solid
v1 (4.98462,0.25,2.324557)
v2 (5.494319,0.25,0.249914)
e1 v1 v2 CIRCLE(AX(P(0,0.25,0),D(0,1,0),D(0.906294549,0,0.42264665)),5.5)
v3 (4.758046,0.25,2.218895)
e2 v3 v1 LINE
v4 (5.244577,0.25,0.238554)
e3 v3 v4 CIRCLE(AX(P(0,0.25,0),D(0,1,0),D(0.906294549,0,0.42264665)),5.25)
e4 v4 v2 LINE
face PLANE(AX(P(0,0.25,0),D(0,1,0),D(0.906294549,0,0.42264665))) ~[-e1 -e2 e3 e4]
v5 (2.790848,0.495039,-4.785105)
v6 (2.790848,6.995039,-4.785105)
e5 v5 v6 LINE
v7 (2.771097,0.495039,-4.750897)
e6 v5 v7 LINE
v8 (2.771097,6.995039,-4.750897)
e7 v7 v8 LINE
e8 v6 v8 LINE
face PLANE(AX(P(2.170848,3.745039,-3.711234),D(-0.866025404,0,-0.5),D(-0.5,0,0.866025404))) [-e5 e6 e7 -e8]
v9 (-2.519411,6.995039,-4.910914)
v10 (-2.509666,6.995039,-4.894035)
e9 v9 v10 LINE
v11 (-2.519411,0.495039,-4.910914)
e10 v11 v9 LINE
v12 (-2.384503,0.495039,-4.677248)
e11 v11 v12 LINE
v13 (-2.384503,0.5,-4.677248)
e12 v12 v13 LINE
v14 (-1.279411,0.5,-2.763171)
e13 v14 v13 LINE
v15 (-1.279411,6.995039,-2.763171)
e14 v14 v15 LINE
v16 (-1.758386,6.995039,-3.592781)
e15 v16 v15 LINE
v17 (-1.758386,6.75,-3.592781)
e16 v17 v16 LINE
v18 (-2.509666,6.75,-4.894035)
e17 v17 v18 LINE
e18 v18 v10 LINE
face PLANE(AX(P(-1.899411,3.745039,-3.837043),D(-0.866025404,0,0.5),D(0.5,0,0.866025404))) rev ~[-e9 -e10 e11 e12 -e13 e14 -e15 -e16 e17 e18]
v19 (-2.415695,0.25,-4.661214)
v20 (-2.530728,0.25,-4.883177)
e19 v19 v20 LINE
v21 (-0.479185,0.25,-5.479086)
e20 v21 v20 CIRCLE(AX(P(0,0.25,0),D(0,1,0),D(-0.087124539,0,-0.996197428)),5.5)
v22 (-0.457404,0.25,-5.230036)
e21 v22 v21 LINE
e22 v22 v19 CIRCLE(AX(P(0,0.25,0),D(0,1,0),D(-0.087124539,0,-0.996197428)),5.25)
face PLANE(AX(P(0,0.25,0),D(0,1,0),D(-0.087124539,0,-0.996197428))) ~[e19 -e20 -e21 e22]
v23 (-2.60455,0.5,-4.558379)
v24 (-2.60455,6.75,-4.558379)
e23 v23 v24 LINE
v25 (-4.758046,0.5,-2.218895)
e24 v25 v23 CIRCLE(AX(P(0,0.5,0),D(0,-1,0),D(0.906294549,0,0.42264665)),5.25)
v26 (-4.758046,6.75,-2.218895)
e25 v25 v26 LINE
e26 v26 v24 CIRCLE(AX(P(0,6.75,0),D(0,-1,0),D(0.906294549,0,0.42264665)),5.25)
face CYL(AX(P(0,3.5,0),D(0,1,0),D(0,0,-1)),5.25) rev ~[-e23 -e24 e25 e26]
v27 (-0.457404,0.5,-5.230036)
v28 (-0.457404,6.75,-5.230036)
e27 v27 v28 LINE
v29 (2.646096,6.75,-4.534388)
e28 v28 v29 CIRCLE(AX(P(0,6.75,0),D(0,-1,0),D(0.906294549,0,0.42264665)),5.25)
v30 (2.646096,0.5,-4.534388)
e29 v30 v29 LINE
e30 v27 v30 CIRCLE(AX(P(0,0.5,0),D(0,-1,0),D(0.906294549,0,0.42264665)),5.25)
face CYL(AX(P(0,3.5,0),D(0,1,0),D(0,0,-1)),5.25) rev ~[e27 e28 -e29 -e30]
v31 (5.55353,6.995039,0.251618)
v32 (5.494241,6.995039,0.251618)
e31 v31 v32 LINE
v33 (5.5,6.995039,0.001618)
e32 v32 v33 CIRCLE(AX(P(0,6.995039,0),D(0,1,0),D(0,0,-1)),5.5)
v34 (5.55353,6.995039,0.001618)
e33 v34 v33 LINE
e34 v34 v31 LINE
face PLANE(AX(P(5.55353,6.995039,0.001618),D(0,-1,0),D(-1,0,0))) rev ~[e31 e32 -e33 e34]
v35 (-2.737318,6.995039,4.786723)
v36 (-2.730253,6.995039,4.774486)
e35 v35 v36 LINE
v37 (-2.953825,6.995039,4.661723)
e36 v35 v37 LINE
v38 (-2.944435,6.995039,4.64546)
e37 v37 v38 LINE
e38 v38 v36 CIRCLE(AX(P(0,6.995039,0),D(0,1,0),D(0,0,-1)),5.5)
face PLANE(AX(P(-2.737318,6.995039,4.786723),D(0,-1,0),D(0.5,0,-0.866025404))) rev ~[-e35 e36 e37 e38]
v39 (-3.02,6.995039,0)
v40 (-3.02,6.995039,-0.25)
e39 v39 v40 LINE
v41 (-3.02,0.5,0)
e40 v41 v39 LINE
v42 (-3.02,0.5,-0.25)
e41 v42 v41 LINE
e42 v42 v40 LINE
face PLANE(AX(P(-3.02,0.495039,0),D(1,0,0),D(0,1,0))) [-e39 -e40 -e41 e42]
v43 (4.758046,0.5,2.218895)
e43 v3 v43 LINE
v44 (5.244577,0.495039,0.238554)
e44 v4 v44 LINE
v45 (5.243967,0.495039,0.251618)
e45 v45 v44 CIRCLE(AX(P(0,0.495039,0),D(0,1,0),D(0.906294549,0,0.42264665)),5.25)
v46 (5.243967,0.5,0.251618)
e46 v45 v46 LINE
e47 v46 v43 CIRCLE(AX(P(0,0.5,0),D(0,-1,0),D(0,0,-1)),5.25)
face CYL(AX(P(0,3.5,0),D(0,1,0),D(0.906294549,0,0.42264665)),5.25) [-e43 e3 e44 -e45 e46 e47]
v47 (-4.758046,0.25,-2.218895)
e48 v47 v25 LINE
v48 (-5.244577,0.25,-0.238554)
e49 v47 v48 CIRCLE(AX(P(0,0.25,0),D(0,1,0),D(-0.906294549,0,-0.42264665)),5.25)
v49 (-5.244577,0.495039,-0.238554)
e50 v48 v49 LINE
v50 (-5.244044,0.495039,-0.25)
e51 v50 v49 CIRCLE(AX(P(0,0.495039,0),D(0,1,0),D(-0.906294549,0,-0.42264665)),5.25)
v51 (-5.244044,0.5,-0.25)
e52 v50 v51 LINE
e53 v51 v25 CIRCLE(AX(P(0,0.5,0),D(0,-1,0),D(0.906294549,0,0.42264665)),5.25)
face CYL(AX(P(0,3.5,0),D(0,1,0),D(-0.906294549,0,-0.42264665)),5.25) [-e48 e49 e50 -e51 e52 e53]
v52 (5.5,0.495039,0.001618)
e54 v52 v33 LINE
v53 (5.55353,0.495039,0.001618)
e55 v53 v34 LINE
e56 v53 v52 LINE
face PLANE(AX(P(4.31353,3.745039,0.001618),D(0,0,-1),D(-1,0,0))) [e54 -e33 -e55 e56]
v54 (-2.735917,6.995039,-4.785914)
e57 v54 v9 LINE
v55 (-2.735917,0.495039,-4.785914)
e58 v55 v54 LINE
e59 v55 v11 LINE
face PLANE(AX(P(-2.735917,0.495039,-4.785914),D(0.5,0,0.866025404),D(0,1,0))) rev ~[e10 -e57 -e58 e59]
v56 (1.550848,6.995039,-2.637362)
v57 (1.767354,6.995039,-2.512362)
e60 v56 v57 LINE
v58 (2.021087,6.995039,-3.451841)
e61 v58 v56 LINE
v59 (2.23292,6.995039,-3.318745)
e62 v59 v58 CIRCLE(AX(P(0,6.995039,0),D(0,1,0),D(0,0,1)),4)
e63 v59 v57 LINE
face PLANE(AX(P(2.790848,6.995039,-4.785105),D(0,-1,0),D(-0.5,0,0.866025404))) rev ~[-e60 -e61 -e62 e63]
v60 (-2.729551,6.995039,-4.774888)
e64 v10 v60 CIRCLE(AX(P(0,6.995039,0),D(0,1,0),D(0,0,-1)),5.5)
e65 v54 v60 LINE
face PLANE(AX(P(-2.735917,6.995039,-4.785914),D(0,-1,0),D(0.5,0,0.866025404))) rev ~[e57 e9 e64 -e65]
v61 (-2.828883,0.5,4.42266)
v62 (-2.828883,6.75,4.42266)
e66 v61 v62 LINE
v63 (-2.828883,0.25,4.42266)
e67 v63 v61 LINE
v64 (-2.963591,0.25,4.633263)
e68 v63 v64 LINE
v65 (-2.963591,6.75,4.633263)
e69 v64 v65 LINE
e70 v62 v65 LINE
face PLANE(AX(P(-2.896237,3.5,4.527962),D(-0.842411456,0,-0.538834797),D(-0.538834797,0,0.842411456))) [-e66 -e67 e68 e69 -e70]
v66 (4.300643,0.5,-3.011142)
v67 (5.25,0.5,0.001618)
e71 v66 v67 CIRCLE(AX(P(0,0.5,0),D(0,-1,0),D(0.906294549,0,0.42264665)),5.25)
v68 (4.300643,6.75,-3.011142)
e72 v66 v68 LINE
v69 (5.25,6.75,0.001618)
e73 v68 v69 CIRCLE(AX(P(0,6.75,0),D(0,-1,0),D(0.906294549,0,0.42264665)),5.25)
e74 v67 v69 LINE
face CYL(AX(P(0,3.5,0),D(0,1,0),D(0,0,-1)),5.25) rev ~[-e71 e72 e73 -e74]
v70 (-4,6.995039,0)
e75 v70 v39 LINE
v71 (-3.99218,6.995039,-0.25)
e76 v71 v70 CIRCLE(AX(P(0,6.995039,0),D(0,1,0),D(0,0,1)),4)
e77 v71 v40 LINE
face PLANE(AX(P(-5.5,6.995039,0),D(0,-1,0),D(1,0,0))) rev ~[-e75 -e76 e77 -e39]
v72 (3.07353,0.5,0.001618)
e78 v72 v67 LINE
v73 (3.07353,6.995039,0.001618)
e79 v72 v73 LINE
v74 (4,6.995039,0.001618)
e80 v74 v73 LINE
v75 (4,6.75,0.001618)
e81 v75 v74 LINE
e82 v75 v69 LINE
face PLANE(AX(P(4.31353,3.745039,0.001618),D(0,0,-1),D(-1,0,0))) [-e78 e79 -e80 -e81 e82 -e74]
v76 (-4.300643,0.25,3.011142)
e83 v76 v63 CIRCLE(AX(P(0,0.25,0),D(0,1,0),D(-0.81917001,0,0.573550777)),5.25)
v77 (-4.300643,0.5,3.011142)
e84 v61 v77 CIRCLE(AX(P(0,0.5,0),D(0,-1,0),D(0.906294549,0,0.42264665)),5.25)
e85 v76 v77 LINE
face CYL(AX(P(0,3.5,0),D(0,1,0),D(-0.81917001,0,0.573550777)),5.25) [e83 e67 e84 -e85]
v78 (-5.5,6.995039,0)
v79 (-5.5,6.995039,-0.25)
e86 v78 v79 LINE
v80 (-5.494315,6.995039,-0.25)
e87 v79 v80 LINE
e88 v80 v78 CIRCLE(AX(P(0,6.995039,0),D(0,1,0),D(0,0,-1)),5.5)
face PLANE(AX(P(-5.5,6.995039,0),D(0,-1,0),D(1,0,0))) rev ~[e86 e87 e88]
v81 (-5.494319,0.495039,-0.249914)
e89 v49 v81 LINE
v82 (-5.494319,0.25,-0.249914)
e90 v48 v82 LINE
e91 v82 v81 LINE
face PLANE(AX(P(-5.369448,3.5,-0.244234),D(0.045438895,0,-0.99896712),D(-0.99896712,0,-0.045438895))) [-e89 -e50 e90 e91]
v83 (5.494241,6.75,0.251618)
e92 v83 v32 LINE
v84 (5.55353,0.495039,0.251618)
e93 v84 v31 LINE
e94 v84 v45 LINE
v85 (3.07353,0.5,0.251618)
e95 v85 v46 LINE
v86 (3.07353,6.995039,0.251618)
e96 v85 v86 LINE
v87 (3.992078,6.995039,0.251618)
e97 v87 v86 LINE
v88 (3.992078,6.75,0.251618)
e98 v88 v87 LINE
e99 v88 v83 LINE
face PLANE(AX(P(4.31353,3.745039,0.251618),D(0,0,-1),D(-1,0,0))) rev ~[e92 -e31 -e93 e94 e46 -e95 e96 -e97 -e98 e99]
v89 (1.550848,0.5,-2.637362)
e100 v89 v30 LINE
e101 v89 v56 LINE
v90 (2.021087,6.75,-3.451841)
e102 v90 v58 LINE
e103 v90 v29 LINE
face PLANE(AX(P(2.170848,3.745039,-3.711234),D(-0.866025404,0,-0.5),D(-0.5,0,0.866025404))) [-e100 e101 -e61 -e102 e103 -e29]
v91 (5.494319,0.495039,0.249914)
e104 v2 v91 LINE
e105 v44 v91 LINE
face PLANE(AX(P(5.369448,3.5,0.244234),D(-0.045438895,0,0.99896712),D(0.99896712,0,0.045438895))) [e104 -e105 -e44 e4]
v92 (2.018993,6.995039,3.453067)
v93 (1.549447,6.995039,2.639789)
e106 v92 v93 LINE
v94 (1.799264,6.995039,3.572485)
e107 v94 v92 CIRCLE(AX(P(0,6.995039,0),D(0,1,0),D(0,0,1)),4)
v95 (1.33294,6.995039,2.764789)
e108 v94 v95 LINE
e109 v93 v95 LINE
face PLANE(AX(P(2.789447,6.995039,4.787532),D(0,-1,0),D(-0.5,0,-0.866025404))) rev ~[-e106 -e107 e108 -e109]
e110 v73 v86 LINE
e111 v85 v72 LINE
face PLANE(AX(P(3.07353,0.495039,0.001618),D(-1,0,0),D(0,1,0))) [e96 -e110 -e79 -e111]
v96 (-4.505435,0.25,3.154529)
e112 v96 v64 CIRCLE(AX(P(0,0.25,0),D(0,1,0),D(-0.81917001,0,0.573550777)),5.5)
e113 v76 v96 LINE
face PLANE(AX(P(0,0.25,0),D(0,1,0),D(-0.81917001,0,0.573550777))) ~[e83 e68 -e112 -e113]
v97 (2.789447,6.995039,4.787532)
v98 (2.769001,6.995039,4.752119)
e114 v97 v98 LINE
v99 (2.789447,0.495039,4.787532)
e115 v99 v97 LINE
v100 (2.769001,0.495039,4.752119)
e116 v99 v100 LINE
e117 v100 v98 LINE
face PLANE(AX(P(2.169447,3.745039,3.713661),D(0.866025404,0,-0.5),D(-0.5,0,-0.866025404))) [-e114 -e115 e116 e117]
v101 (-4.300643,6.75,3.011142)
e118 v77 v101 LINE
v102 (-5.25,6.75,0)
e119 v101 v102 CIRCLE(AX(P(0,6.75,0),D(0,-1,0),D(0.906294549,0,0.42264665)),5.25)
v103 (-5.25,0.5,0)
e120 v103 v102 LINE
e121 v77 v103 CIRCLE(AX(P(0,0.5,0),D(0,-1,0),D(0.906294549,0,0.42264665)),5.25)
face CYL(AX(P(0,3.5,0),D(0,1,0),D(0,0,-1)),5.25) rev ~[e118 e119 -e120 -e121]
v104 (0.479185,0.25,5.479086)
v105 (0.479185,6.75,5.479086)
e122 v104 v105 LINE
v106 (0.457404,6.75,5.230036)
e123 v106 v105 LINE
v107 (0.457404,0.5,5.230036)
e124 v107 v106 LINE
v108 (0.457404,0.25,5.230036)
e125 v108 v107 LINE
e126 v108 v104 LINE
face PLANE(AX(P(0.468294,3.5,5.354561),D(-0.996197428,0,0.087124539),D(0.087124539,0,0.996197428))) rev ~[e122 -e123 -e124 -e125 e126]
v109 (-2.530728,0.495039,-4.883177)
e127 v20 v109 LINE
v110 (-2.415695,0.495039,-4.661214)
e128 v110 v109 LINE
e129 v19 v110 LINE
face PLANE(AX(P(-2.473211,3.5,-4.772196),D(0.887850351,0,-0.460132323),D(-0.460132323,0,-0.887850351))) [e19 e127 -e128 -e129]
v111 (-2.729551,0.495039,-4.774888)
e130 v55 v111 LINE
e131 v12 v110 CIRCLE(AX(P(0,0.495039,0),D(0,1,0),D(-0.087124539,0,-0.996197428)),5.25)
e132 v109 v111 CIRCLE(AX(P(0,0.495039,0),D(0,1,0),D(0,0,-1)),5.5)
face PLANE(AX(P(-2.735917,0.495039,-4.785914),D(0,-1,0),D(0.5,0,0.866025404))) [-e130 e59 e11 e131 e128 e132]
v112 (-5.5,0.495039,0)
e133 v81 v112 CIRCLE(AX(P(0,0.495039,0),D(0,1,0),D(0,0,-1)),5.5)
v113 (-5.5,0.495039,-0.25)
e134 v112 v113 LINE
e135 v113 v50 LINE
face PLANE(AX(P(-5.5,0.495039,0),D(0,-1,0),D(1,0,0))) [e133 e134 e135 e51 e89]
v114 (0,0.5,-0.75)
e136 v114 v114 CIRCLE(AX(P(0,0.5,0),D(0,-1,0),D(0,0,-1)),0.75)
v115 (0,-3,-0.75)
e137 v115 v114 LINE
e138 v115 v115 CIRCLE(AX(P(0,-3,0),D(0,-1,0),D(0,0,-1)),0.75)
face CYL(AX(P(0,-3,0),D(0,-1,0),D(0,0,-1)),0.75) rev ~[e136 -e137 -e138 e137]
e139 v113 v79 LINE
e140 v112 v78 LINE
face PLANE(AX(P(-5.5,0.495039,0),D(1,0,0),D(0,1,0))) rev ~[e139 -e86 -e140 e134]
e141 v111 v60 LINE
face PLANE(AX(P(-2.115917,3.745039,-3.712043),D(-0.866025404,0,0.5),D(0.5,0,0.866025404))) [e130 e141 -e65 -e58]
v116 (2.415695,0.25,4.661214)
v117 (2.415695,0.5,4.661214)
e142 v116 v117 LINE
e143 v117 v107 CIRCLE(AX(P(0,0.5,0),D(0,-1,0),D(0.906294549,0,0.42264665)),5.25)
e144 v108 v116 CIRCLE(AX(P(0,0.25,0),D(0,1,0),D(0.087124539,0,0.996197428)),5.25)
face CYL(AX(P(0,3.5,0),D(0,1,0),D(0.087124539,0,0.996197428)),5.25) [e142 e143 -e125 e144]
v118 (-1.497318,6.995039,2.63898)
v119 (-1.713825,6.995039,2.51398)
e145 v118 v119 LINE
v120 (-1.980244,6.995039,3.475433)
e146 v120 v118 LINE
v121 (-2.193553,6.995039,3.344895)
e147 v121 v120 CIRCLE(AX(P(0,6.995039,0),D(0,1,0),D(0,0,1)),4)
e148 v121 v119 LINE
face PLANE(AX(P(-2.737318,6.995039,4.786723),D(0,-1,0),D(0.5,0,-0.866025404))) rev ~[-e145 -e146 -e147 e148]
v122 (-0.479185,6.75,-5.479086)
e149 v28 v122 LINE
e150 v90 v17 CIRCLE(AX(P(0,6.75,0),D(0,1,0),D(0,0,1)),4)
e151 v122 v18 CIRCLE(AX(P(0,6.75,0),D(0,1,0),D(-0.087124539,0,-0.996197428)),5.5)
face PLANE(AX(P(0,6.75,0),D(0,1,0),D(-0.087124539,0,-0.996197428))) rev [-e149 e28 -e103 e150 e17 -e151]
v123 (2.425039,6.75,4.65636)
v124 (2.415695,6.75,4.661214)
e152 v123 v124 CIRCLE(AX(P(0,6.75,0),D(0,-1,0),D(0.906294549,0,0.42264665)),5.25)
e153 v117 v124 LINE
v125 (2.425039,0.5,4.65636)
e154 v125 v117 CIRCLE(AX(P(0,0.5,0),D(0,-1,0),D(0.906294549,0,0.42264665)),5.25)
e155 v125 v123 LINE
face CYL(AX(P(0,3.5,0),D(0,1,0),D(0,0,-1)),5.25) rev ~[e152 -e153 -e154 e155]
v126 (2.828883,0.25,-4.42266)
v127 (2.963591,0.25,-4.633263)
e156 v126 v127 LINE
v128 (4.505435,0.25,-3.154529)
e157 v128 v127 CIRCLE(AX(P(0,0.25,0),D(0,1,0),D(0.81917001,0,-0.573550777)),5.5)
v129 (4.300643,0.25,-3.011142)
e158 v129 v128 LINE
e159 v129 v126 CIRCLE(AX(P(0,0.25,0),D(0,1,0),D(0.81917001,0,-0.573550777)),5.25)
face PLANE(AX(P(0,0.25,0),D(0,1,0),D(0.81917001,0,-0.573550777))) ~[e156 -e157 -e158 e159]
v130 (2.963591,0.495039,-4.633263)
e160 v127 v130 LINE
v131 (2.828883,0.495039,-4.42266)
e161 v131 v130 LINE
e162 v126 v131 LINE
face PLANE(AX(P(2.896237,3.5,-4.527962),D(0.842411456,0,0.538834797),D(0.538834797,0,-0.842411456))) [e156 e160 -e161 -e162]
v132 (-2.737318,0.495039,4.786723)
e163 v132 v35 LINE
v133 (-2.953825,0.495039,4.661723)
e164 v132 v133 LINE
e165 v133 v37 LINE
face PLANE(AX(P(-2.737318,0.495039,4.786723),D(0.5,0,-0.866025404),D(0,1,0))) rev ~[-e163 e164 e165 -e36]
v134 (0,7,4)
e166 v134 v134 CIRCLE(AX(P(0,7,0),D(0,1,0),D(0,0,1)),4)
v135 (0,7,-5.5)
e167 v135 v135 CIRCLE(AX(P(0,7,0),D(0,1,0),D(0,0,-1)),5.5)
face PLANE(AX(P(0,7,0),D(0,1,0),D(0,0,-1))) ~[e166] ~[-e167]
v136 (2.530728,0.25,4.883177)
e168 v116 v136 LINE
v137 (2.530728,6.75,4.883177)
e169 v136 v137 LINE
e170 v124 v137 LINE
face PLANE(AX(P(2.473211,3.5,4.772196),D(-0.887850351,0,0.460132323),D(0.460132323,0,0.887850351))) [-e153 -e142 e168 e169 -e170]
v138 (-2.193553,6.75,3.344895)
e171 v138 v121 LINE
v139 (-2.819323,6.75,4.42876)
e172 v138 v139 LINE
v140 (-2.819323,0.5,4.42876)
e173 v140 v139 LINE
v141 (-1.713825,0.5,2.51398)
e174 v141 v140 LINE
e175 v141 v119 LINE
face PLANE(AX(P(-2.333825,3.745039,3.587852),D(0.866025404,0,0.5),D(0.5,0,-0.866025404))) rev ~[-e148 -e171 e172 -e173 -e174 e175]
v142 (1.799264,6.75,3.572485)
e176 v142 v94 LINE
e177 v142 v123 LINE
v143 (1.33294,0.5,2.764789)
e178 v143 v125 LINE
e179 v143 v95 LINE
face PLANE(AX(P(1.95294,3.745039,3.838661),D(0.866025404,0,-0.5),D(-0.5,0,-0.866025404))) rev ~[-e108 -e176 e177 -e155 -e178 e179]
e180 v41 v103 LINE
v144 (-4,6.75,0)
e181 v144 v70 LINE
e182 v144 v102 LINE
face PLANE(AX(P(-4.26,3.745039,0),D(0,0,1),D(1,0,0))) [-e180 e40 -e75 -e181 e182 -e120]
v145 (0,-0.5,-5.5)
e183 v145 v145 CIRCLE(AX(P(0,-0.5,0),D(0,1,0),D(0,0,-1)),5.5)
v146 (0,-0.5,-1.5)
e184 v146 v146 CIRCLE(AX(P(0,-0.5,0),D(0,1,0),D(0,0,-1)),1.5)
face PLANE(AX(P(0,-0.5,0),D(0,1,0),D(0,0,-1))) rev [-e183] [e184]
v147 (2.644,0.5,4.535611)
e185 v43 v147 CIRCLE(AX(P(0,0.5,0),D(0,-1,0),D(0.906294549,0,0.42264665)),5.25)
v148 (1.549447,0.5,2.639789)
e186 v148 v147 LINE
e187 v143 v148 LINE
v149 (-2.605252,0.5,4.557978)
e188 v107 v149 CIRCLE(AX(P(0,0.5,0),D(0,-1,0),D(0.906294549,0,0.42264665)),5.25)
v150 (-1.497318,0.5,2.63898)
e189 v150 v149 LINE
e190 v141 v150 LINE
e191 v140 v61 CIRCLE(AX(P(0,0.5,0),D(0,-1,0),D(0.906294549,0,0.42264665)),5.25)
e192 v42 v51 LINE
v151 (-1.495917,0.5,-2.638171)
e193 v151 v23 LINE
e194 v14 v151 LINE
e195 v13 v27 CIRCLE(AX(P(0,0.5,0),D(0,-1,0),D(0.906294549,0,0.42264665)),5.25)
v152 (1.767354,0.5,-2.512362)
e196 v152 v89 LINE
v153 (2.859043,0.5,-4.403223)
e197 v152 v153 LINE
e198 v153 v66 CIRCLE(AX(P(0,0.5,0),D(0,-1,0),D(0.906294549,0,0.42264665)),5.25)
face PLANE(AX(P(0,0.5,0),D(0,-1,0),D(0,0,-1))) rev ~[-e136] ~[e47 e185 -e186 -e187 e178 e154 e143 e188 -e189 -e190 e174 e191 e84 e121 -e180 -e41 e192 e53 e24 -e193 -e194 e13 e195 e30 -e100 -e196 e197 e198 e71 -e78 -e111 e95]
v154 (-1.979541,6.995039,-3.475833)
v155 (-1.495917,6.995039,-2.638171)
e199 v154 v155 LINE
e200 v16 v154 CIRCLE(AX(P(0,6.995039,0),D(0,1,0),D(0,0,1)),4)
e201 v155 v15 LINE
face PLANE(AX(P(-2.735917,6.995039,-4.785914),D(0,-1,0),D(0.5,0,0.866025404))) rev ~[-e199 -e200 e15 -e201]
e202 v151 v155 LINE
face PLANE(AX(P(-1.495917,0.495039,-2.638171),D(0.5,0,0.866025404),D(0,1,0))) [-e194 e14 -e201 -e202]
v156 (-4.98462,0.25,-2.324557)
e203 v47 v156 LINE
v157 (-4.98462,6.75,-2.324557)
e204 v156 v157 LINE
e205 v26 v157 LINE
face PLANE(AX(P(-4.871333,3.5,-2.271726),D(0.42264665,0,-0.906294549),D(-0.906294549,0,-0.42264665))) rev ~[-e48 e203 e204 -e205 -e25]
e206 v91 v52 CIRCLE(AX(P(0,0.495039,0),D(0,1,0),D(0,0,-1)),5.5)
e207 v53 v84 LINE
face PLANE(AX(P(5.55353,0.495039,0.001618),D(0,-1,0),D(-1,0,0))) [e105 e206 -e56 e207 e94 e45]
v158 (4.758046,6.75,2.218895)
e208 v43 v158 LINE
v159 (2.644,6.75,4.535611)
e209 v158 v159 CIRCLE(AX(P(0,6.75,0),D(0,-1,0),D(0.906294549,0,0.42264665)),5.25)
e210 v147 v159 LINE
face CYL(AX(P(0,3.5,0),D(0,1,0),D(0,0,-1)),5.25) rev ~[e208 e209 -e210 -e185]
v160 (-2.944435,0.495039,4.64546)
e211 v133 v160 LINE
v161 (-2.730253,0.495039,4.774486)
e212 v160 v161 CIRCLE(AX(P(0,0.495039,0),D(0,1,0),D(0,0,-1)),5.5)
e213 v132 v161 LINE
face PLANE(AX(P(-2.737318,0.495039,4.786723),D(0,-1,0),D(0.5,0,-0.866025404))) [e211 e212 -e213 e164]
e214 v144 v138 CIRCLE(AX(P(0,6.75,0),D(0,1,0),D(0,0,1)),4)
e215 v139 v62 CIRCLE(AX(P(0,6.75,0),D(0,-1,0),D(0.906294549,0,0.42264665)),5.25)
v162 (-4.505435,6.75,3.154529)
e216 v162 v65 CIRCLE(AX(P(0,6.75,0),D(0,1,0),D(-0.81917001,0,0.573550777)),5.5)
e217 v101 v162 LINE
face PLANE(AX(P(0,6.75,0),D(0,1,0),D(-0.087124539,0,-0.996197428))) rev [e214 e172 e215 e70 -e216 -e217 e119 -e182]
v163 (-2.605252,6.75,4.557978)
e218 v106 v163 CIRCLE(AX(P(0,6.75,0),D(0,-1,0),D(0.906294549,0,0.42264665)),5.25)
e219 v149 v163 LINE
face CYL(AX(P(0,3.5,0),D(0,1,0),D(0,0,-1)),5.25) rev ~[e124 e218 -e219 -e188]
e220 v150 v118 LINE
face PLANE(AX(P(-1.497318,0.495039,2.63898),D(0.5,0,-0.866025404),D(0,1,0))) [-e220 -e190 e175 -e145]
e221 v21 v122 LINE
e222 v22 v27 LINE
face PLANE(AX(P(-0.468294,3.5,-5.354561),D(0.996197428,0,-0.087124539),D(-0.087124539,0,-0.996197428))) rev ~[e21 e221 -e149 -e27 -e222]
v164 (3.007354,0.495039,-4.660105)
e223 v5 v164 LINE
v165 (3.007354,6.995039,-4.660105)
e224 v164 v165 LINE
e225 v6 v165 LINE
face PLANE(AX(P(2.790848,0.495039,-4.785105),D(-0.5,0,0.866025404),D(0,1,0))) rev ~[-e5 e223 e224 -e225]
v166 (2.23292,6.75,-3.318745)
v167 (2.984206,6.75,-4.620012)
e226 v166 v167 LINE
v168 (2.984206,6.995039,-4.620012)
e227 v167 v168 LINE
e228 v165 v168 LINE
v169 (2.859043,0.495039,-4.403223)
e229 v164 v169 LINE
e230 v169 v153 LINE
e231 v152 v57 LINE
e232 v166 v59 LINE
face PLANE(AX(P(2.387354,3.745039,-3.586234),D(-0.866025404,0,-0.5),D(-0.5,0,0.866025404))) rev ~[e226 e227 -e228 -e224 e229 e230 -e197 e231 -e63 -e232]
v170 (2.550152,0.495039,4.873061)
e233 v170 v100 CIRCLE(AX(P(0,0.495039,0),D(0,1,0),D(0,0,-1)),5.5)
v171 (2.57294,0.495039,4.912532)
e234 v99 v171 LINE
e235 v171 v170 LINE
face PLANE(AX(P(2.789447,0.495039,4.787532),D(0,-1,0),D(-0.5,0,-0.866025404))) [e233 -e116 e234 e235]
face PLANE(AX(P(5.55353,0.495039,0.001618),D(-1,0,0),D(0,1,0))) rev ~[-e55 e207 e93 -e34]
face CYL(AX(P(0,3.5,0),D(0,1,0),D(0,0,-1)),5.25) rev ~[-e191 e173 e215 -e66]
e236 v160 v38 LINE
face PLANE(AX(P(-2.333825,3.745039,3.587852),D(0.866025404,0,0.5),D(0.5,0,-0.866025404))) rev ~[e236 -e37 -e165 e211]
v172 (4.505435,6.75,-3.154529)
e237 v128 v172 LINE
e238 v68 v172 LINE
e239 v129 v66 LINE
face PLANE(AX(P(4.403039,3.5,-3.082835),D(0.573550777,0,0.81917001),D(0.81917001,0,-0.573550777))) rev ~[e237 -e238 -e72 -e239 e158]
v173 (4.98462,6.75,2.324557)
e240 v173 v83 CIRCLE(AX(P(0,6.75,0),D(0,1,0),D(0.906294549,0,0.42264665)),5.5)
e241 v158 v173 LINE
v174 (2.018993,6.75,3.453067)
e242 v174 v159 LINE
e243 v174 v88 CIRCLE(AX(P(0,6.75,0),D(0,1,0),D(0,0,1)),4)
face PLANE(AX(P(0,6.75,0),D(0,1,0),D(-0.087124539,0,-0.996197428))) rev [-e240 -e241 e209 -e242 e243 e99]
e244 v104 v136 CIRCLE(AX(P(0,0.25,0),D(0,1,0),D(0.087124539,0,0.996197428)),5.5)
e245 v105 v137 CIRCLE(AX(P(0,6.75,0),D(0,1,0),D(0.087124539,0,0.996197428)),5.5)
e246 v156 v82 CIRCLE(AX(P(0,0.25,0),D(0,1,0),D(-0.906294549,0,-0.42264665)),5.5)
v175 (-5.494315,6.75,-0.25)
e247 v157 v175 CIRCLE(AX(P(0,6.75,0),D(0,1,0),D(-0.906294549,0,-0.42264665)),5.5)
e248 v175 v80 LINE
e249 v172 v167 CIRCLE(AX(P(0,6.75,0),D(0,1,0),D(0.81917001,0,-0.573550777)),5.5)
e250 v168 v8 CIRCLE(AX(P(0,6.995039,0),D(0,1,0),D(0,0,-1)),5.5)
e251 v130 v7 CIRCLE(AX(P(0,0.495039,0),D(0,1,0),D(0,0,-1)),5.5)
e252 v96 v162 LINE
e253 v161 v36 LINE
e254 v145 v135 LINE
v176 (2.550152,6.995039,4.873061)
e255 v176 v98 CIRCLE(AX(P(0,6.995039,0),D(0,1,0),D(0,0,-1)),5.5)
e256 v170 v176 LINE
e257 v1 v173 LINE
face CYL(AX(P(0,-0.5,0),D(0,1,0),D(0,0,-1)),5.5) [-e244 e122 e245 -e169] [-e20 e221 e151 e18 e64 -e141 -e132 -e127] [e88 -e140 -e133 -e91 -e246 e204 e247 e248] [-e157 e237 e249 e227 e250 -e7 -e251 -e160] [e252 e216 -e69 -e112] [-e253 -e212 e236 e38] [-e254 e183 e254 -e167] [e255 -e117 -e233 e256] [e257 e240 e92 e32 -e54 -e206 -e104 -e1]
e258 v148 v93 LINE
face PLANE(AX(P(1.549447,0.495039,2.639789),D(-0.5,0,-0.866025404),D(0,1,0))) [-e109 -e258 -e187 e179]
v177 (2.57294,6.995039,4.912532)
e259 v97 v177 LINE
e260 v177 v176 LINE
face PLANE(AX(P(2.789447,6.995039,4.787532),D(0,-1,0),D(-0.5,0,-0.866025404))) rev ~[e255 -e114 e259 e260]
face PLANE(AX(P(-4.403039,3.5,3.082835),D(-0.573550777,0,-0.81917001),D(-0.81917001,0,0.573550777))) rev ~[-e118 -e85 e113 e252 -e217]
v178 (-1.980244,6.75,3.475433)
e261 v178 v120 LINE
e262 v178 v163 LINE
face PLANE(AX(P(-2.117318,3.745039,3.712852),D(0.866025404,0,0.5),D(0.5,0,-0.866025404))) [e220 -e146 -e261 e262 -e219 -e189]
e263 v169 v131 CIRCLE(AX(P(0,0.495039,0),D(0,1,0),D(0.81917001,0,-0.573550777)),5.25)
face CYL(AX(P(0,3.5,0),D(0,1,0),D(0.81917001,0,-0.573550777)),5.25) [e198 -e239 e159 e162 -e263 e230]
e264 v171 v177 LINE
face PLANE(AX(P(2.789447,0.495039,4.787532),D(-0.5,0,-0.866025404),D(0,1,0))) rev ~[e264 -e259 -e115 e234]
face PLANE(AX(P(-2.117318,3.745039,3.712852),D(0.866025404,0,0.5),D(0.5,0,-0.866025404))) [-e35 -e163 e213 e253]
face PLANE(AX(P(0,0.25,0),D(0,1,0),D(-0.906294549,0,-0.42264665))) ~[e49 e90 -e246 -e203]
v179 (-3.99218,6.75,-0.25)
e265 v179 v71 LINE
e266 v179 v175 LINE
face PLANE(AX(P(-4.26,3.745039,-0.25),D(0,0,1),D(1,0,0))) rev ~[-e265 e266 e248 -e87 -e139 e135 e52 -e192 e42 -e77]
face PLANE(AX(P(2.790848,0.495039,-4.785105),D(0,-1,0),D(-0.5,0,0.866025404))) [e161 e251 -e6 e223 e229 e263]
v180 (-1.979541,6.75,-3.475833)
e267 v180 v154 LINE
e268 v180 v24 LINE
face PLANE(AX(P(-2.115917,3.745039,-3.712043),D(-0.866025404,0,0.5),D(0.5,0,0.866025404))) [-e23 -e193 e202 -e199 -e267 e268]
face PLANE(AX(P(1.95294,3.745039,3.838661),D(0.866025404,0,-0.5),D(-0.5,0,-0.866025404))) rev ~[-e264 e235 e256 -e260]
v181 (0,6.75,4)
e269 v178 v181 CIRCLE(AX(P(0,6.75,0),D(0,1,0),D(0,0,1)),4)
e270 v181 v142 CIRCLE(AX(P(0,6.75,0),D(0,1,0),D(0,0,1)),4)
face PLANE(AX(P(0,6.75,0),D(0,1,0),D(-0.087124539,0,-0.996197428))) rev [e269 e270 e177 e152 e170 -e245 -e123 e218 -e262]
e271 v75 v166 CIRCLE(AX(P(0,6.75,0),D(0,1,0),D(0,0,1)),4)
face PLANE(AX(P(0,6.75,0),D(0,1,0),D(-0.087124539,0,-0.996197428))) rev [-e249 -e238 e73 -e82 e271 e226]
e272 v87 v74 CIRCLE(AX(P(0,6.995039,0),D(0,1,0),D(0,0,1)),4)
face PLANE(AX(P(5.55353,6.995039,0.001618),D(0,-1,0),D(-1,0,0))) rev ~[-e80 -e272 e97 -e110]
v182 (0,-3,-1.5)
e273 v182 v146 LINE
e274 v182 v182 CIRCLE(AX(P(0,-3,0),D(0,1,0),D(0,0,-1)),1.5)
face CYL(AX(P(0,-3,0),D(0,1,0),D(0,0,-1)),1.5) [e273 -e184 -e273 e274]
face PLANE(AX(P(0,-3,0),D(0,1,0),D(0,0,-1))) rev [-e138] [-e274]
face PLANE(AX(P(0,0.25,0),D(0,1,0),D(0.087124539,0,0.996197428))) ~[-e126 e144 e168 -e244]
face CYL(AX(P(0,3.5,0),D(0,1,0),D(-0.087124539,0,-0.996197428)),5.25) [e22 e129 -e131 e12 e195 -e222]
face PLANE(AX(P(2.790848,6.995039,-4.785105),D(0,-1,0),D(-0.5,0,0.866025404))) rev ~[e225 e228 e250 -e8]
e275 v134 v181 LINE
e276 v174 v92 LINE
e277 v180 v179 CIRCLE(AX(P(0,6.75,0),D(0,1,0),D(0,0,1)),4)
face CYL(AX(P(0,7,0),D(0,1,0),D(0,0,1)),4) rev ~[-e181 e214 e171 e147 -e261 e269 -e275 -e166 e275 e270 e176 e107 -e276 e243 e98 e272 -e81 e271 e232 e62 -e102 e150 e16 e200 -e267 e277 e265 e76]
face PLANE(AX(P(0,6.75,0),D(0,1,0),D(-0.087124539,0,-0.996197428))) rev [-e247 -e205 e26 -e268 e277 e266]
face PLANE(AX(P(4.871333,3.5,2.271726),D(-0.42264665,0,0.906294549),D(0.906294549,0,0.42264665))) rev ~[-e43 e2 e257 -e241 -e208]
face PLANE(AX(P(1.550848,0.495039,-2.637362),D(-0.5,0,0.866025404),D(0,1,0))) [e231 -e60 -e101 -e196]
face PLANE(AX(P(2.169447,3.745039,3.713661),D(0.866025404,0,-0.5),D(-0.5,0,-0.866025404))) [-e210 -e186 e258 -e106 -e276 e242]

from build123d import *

# Parameters (mm, degrees)
SKETCH1_W                 = 5.5
SKETCH1_H                 = 7
SHELL1_T                  = -0.25
SHELL1_THICKNESS_2_FACE_R = 5.25
SHELL1_THICKNESS_2_DEPTH  = 0.25
SKETCH6_R                 = 5.5
SKETCH6_R_2               = 4
BOSS_EXTRUDE1_DEPTH       = 0.25
WRAP1_SECTION_W           = 0.25
WRAP1_SECTION_H           = 6.5
WRAP1_ANGLE               = 22.397441082
CIRPATTERN1_COUNT         = 6
SKETCH10_W                = 2.48
SKETCH10_H                = 6.5
BOSS_EXTRUDE2_DEPTH       = 0.25
CIRPATTERN2_COUNT         = 6
CUT_EXTRUDE1_REACH        = 14.692
SKETCH12_R                = 0.75


with BuildPart() as part:
    # Sketch1 → Revolve1 (revolve)
    with BuildSketch(Plane.XY, mode=Mode.PRIVATE) as revolve1_sk:
        with Locations((2.75, 3.5)):
            Rectangle(SKETCH1_W, SKETCH1_H)
    revolve(revolve1_sk.sketch.rotate(Axis((0, 0, 0), (0, 1, 0)), 90), axis=Axis((0, 0, 0), (0, 1, 0)))

    # Shell1
    shell1_openings = [part.faces().sort_by_distance(p)[0] for p in [
        (0, 7, 0),
    ]]
    offset(amount=SHELL1_T, openings=shell1_openings, kind=Kind.INTERSECTION)

    # Shell1 thickness 2 face (on inner face of the shell) → Shell1 thickness 2 (add)
    with BuildSketch(Plane(origin=(0, 0.25, 0), x_dir=(0, 0, -1), z_dir=(0, -1, 0))):
        Circle(SHELL1_THICKNESS_2_FACE_R)
    extrude(amount=-SHELL1_THICKNESS_2_DEPTH)

    # Sketch6 → Boss-Extrude1 (add)
    with BuildSketch(Plane(origin=(0, 7, 0), x_dir=(1, 0, 0), z_dir=(0, 1, 0))):
        with Locations(Location((0, 0, 0), (0, 0, 90))):
            Circle(SKETCH6_R)
        with Locations(Location((0, 0, 0), (0, 0, 270))):
            Circle(SKETCH6_R_2, mode=Mode.SUBTRACT)
    extrude(amount=-BOSS_EXTRUDE1_DEPTH)

    # Wrap1 section (on wrap section) → Wrap1 (revolve, cut)
    with BuildSketch(Plane(origin=(0, 0, 0), x_dir=(0.9062945487659477, 0, 0.42264665014303293), z_dir=(-0.42264665014303293, 0, 0.9062945487659477))):
        with Locations((5.375, 3.5)):
            Rectangle(WRAP1_SECTION_W, WRAP1_SECTION_H)
    wrap1 = revolve(axis=Axis((0, 0, 0), (0, 1, 0)), revolution_arc=WRAP1_ANGLE, mode=Mode.SUBTRACT)

    # CirPattern1: Wrap1 ×6 about axis
    cirpattern1_axis = Axis((0, 0, 0), (0, 1, 0))
    for i in range(1, CIRPATTERN1_COUNT):
        add(wrap1.rotate(cirpattern1_axis, i * 360 / CIRPATTERN1_COUNT), mode=Mode.SUBTRACT)

    # Sketch10 → Boss-Extrude2 (add)
    with BuildSketch(Plane.XY):
        with Locations((-4.26, 3.745038645)):
            Rectangle(SKETCH10_W, SKETCH10_H)
    boss_extrude2 = extrude(amount=-BOSS_EXTRUDE2_DEPTH)

    # CirPattern2: Boss-Extrude2 ×6 about axis
    cirpattern2_axis = Axis((0.026764782, 0, 0.000808926), (0, 1, 0))
    for i in range(1, CIRPATTERN2_COUNT):
        add(boss_extrude2.rotate(cirpattern2_axis, i * 360 / CIRPATTERN2_COUNT))

    # Sketch11 → Revolve3 (revolve)
    with BuildSketch(Plane.XY, mode=Mode.PRIVATE) as revolve3_sk:
        Polygon((-5.5, 0), (0, 0), (0, -3), (-1.5, -3), (-1.5, -0.5), (-5.5, -0.5), align=None)
    revolve(revolve3_sk.sketch.rotate(Axis((0, -3, 0), (0, 1, 0)), 270), axis=Axis((0, -3, 0), (0, 1, 0)))

    # Sketch12 → Cut-Extrude1 (cut, up to next)
    with BuildSketch(Plane.XZ.offset(3), mode=Mode.PRIVATE) as cut_extrude1_sk1:
        with Locations(Location((0, 0, 0), (0, 0, 270))):
            Circle(SKETCH12_R)
    cut_extrude1_tool1 = extrude(cut_extrude1_sk1.sketch, amount=-CUT_EXTRUDE1_REACH, mode=Mode.PRIVATE) & part.part
    add(cut_extrude1_tool1.solids().sort_by_distance((0, -3, 0))[0], mode=Mode.SUBTRACT)


solid = part.part
